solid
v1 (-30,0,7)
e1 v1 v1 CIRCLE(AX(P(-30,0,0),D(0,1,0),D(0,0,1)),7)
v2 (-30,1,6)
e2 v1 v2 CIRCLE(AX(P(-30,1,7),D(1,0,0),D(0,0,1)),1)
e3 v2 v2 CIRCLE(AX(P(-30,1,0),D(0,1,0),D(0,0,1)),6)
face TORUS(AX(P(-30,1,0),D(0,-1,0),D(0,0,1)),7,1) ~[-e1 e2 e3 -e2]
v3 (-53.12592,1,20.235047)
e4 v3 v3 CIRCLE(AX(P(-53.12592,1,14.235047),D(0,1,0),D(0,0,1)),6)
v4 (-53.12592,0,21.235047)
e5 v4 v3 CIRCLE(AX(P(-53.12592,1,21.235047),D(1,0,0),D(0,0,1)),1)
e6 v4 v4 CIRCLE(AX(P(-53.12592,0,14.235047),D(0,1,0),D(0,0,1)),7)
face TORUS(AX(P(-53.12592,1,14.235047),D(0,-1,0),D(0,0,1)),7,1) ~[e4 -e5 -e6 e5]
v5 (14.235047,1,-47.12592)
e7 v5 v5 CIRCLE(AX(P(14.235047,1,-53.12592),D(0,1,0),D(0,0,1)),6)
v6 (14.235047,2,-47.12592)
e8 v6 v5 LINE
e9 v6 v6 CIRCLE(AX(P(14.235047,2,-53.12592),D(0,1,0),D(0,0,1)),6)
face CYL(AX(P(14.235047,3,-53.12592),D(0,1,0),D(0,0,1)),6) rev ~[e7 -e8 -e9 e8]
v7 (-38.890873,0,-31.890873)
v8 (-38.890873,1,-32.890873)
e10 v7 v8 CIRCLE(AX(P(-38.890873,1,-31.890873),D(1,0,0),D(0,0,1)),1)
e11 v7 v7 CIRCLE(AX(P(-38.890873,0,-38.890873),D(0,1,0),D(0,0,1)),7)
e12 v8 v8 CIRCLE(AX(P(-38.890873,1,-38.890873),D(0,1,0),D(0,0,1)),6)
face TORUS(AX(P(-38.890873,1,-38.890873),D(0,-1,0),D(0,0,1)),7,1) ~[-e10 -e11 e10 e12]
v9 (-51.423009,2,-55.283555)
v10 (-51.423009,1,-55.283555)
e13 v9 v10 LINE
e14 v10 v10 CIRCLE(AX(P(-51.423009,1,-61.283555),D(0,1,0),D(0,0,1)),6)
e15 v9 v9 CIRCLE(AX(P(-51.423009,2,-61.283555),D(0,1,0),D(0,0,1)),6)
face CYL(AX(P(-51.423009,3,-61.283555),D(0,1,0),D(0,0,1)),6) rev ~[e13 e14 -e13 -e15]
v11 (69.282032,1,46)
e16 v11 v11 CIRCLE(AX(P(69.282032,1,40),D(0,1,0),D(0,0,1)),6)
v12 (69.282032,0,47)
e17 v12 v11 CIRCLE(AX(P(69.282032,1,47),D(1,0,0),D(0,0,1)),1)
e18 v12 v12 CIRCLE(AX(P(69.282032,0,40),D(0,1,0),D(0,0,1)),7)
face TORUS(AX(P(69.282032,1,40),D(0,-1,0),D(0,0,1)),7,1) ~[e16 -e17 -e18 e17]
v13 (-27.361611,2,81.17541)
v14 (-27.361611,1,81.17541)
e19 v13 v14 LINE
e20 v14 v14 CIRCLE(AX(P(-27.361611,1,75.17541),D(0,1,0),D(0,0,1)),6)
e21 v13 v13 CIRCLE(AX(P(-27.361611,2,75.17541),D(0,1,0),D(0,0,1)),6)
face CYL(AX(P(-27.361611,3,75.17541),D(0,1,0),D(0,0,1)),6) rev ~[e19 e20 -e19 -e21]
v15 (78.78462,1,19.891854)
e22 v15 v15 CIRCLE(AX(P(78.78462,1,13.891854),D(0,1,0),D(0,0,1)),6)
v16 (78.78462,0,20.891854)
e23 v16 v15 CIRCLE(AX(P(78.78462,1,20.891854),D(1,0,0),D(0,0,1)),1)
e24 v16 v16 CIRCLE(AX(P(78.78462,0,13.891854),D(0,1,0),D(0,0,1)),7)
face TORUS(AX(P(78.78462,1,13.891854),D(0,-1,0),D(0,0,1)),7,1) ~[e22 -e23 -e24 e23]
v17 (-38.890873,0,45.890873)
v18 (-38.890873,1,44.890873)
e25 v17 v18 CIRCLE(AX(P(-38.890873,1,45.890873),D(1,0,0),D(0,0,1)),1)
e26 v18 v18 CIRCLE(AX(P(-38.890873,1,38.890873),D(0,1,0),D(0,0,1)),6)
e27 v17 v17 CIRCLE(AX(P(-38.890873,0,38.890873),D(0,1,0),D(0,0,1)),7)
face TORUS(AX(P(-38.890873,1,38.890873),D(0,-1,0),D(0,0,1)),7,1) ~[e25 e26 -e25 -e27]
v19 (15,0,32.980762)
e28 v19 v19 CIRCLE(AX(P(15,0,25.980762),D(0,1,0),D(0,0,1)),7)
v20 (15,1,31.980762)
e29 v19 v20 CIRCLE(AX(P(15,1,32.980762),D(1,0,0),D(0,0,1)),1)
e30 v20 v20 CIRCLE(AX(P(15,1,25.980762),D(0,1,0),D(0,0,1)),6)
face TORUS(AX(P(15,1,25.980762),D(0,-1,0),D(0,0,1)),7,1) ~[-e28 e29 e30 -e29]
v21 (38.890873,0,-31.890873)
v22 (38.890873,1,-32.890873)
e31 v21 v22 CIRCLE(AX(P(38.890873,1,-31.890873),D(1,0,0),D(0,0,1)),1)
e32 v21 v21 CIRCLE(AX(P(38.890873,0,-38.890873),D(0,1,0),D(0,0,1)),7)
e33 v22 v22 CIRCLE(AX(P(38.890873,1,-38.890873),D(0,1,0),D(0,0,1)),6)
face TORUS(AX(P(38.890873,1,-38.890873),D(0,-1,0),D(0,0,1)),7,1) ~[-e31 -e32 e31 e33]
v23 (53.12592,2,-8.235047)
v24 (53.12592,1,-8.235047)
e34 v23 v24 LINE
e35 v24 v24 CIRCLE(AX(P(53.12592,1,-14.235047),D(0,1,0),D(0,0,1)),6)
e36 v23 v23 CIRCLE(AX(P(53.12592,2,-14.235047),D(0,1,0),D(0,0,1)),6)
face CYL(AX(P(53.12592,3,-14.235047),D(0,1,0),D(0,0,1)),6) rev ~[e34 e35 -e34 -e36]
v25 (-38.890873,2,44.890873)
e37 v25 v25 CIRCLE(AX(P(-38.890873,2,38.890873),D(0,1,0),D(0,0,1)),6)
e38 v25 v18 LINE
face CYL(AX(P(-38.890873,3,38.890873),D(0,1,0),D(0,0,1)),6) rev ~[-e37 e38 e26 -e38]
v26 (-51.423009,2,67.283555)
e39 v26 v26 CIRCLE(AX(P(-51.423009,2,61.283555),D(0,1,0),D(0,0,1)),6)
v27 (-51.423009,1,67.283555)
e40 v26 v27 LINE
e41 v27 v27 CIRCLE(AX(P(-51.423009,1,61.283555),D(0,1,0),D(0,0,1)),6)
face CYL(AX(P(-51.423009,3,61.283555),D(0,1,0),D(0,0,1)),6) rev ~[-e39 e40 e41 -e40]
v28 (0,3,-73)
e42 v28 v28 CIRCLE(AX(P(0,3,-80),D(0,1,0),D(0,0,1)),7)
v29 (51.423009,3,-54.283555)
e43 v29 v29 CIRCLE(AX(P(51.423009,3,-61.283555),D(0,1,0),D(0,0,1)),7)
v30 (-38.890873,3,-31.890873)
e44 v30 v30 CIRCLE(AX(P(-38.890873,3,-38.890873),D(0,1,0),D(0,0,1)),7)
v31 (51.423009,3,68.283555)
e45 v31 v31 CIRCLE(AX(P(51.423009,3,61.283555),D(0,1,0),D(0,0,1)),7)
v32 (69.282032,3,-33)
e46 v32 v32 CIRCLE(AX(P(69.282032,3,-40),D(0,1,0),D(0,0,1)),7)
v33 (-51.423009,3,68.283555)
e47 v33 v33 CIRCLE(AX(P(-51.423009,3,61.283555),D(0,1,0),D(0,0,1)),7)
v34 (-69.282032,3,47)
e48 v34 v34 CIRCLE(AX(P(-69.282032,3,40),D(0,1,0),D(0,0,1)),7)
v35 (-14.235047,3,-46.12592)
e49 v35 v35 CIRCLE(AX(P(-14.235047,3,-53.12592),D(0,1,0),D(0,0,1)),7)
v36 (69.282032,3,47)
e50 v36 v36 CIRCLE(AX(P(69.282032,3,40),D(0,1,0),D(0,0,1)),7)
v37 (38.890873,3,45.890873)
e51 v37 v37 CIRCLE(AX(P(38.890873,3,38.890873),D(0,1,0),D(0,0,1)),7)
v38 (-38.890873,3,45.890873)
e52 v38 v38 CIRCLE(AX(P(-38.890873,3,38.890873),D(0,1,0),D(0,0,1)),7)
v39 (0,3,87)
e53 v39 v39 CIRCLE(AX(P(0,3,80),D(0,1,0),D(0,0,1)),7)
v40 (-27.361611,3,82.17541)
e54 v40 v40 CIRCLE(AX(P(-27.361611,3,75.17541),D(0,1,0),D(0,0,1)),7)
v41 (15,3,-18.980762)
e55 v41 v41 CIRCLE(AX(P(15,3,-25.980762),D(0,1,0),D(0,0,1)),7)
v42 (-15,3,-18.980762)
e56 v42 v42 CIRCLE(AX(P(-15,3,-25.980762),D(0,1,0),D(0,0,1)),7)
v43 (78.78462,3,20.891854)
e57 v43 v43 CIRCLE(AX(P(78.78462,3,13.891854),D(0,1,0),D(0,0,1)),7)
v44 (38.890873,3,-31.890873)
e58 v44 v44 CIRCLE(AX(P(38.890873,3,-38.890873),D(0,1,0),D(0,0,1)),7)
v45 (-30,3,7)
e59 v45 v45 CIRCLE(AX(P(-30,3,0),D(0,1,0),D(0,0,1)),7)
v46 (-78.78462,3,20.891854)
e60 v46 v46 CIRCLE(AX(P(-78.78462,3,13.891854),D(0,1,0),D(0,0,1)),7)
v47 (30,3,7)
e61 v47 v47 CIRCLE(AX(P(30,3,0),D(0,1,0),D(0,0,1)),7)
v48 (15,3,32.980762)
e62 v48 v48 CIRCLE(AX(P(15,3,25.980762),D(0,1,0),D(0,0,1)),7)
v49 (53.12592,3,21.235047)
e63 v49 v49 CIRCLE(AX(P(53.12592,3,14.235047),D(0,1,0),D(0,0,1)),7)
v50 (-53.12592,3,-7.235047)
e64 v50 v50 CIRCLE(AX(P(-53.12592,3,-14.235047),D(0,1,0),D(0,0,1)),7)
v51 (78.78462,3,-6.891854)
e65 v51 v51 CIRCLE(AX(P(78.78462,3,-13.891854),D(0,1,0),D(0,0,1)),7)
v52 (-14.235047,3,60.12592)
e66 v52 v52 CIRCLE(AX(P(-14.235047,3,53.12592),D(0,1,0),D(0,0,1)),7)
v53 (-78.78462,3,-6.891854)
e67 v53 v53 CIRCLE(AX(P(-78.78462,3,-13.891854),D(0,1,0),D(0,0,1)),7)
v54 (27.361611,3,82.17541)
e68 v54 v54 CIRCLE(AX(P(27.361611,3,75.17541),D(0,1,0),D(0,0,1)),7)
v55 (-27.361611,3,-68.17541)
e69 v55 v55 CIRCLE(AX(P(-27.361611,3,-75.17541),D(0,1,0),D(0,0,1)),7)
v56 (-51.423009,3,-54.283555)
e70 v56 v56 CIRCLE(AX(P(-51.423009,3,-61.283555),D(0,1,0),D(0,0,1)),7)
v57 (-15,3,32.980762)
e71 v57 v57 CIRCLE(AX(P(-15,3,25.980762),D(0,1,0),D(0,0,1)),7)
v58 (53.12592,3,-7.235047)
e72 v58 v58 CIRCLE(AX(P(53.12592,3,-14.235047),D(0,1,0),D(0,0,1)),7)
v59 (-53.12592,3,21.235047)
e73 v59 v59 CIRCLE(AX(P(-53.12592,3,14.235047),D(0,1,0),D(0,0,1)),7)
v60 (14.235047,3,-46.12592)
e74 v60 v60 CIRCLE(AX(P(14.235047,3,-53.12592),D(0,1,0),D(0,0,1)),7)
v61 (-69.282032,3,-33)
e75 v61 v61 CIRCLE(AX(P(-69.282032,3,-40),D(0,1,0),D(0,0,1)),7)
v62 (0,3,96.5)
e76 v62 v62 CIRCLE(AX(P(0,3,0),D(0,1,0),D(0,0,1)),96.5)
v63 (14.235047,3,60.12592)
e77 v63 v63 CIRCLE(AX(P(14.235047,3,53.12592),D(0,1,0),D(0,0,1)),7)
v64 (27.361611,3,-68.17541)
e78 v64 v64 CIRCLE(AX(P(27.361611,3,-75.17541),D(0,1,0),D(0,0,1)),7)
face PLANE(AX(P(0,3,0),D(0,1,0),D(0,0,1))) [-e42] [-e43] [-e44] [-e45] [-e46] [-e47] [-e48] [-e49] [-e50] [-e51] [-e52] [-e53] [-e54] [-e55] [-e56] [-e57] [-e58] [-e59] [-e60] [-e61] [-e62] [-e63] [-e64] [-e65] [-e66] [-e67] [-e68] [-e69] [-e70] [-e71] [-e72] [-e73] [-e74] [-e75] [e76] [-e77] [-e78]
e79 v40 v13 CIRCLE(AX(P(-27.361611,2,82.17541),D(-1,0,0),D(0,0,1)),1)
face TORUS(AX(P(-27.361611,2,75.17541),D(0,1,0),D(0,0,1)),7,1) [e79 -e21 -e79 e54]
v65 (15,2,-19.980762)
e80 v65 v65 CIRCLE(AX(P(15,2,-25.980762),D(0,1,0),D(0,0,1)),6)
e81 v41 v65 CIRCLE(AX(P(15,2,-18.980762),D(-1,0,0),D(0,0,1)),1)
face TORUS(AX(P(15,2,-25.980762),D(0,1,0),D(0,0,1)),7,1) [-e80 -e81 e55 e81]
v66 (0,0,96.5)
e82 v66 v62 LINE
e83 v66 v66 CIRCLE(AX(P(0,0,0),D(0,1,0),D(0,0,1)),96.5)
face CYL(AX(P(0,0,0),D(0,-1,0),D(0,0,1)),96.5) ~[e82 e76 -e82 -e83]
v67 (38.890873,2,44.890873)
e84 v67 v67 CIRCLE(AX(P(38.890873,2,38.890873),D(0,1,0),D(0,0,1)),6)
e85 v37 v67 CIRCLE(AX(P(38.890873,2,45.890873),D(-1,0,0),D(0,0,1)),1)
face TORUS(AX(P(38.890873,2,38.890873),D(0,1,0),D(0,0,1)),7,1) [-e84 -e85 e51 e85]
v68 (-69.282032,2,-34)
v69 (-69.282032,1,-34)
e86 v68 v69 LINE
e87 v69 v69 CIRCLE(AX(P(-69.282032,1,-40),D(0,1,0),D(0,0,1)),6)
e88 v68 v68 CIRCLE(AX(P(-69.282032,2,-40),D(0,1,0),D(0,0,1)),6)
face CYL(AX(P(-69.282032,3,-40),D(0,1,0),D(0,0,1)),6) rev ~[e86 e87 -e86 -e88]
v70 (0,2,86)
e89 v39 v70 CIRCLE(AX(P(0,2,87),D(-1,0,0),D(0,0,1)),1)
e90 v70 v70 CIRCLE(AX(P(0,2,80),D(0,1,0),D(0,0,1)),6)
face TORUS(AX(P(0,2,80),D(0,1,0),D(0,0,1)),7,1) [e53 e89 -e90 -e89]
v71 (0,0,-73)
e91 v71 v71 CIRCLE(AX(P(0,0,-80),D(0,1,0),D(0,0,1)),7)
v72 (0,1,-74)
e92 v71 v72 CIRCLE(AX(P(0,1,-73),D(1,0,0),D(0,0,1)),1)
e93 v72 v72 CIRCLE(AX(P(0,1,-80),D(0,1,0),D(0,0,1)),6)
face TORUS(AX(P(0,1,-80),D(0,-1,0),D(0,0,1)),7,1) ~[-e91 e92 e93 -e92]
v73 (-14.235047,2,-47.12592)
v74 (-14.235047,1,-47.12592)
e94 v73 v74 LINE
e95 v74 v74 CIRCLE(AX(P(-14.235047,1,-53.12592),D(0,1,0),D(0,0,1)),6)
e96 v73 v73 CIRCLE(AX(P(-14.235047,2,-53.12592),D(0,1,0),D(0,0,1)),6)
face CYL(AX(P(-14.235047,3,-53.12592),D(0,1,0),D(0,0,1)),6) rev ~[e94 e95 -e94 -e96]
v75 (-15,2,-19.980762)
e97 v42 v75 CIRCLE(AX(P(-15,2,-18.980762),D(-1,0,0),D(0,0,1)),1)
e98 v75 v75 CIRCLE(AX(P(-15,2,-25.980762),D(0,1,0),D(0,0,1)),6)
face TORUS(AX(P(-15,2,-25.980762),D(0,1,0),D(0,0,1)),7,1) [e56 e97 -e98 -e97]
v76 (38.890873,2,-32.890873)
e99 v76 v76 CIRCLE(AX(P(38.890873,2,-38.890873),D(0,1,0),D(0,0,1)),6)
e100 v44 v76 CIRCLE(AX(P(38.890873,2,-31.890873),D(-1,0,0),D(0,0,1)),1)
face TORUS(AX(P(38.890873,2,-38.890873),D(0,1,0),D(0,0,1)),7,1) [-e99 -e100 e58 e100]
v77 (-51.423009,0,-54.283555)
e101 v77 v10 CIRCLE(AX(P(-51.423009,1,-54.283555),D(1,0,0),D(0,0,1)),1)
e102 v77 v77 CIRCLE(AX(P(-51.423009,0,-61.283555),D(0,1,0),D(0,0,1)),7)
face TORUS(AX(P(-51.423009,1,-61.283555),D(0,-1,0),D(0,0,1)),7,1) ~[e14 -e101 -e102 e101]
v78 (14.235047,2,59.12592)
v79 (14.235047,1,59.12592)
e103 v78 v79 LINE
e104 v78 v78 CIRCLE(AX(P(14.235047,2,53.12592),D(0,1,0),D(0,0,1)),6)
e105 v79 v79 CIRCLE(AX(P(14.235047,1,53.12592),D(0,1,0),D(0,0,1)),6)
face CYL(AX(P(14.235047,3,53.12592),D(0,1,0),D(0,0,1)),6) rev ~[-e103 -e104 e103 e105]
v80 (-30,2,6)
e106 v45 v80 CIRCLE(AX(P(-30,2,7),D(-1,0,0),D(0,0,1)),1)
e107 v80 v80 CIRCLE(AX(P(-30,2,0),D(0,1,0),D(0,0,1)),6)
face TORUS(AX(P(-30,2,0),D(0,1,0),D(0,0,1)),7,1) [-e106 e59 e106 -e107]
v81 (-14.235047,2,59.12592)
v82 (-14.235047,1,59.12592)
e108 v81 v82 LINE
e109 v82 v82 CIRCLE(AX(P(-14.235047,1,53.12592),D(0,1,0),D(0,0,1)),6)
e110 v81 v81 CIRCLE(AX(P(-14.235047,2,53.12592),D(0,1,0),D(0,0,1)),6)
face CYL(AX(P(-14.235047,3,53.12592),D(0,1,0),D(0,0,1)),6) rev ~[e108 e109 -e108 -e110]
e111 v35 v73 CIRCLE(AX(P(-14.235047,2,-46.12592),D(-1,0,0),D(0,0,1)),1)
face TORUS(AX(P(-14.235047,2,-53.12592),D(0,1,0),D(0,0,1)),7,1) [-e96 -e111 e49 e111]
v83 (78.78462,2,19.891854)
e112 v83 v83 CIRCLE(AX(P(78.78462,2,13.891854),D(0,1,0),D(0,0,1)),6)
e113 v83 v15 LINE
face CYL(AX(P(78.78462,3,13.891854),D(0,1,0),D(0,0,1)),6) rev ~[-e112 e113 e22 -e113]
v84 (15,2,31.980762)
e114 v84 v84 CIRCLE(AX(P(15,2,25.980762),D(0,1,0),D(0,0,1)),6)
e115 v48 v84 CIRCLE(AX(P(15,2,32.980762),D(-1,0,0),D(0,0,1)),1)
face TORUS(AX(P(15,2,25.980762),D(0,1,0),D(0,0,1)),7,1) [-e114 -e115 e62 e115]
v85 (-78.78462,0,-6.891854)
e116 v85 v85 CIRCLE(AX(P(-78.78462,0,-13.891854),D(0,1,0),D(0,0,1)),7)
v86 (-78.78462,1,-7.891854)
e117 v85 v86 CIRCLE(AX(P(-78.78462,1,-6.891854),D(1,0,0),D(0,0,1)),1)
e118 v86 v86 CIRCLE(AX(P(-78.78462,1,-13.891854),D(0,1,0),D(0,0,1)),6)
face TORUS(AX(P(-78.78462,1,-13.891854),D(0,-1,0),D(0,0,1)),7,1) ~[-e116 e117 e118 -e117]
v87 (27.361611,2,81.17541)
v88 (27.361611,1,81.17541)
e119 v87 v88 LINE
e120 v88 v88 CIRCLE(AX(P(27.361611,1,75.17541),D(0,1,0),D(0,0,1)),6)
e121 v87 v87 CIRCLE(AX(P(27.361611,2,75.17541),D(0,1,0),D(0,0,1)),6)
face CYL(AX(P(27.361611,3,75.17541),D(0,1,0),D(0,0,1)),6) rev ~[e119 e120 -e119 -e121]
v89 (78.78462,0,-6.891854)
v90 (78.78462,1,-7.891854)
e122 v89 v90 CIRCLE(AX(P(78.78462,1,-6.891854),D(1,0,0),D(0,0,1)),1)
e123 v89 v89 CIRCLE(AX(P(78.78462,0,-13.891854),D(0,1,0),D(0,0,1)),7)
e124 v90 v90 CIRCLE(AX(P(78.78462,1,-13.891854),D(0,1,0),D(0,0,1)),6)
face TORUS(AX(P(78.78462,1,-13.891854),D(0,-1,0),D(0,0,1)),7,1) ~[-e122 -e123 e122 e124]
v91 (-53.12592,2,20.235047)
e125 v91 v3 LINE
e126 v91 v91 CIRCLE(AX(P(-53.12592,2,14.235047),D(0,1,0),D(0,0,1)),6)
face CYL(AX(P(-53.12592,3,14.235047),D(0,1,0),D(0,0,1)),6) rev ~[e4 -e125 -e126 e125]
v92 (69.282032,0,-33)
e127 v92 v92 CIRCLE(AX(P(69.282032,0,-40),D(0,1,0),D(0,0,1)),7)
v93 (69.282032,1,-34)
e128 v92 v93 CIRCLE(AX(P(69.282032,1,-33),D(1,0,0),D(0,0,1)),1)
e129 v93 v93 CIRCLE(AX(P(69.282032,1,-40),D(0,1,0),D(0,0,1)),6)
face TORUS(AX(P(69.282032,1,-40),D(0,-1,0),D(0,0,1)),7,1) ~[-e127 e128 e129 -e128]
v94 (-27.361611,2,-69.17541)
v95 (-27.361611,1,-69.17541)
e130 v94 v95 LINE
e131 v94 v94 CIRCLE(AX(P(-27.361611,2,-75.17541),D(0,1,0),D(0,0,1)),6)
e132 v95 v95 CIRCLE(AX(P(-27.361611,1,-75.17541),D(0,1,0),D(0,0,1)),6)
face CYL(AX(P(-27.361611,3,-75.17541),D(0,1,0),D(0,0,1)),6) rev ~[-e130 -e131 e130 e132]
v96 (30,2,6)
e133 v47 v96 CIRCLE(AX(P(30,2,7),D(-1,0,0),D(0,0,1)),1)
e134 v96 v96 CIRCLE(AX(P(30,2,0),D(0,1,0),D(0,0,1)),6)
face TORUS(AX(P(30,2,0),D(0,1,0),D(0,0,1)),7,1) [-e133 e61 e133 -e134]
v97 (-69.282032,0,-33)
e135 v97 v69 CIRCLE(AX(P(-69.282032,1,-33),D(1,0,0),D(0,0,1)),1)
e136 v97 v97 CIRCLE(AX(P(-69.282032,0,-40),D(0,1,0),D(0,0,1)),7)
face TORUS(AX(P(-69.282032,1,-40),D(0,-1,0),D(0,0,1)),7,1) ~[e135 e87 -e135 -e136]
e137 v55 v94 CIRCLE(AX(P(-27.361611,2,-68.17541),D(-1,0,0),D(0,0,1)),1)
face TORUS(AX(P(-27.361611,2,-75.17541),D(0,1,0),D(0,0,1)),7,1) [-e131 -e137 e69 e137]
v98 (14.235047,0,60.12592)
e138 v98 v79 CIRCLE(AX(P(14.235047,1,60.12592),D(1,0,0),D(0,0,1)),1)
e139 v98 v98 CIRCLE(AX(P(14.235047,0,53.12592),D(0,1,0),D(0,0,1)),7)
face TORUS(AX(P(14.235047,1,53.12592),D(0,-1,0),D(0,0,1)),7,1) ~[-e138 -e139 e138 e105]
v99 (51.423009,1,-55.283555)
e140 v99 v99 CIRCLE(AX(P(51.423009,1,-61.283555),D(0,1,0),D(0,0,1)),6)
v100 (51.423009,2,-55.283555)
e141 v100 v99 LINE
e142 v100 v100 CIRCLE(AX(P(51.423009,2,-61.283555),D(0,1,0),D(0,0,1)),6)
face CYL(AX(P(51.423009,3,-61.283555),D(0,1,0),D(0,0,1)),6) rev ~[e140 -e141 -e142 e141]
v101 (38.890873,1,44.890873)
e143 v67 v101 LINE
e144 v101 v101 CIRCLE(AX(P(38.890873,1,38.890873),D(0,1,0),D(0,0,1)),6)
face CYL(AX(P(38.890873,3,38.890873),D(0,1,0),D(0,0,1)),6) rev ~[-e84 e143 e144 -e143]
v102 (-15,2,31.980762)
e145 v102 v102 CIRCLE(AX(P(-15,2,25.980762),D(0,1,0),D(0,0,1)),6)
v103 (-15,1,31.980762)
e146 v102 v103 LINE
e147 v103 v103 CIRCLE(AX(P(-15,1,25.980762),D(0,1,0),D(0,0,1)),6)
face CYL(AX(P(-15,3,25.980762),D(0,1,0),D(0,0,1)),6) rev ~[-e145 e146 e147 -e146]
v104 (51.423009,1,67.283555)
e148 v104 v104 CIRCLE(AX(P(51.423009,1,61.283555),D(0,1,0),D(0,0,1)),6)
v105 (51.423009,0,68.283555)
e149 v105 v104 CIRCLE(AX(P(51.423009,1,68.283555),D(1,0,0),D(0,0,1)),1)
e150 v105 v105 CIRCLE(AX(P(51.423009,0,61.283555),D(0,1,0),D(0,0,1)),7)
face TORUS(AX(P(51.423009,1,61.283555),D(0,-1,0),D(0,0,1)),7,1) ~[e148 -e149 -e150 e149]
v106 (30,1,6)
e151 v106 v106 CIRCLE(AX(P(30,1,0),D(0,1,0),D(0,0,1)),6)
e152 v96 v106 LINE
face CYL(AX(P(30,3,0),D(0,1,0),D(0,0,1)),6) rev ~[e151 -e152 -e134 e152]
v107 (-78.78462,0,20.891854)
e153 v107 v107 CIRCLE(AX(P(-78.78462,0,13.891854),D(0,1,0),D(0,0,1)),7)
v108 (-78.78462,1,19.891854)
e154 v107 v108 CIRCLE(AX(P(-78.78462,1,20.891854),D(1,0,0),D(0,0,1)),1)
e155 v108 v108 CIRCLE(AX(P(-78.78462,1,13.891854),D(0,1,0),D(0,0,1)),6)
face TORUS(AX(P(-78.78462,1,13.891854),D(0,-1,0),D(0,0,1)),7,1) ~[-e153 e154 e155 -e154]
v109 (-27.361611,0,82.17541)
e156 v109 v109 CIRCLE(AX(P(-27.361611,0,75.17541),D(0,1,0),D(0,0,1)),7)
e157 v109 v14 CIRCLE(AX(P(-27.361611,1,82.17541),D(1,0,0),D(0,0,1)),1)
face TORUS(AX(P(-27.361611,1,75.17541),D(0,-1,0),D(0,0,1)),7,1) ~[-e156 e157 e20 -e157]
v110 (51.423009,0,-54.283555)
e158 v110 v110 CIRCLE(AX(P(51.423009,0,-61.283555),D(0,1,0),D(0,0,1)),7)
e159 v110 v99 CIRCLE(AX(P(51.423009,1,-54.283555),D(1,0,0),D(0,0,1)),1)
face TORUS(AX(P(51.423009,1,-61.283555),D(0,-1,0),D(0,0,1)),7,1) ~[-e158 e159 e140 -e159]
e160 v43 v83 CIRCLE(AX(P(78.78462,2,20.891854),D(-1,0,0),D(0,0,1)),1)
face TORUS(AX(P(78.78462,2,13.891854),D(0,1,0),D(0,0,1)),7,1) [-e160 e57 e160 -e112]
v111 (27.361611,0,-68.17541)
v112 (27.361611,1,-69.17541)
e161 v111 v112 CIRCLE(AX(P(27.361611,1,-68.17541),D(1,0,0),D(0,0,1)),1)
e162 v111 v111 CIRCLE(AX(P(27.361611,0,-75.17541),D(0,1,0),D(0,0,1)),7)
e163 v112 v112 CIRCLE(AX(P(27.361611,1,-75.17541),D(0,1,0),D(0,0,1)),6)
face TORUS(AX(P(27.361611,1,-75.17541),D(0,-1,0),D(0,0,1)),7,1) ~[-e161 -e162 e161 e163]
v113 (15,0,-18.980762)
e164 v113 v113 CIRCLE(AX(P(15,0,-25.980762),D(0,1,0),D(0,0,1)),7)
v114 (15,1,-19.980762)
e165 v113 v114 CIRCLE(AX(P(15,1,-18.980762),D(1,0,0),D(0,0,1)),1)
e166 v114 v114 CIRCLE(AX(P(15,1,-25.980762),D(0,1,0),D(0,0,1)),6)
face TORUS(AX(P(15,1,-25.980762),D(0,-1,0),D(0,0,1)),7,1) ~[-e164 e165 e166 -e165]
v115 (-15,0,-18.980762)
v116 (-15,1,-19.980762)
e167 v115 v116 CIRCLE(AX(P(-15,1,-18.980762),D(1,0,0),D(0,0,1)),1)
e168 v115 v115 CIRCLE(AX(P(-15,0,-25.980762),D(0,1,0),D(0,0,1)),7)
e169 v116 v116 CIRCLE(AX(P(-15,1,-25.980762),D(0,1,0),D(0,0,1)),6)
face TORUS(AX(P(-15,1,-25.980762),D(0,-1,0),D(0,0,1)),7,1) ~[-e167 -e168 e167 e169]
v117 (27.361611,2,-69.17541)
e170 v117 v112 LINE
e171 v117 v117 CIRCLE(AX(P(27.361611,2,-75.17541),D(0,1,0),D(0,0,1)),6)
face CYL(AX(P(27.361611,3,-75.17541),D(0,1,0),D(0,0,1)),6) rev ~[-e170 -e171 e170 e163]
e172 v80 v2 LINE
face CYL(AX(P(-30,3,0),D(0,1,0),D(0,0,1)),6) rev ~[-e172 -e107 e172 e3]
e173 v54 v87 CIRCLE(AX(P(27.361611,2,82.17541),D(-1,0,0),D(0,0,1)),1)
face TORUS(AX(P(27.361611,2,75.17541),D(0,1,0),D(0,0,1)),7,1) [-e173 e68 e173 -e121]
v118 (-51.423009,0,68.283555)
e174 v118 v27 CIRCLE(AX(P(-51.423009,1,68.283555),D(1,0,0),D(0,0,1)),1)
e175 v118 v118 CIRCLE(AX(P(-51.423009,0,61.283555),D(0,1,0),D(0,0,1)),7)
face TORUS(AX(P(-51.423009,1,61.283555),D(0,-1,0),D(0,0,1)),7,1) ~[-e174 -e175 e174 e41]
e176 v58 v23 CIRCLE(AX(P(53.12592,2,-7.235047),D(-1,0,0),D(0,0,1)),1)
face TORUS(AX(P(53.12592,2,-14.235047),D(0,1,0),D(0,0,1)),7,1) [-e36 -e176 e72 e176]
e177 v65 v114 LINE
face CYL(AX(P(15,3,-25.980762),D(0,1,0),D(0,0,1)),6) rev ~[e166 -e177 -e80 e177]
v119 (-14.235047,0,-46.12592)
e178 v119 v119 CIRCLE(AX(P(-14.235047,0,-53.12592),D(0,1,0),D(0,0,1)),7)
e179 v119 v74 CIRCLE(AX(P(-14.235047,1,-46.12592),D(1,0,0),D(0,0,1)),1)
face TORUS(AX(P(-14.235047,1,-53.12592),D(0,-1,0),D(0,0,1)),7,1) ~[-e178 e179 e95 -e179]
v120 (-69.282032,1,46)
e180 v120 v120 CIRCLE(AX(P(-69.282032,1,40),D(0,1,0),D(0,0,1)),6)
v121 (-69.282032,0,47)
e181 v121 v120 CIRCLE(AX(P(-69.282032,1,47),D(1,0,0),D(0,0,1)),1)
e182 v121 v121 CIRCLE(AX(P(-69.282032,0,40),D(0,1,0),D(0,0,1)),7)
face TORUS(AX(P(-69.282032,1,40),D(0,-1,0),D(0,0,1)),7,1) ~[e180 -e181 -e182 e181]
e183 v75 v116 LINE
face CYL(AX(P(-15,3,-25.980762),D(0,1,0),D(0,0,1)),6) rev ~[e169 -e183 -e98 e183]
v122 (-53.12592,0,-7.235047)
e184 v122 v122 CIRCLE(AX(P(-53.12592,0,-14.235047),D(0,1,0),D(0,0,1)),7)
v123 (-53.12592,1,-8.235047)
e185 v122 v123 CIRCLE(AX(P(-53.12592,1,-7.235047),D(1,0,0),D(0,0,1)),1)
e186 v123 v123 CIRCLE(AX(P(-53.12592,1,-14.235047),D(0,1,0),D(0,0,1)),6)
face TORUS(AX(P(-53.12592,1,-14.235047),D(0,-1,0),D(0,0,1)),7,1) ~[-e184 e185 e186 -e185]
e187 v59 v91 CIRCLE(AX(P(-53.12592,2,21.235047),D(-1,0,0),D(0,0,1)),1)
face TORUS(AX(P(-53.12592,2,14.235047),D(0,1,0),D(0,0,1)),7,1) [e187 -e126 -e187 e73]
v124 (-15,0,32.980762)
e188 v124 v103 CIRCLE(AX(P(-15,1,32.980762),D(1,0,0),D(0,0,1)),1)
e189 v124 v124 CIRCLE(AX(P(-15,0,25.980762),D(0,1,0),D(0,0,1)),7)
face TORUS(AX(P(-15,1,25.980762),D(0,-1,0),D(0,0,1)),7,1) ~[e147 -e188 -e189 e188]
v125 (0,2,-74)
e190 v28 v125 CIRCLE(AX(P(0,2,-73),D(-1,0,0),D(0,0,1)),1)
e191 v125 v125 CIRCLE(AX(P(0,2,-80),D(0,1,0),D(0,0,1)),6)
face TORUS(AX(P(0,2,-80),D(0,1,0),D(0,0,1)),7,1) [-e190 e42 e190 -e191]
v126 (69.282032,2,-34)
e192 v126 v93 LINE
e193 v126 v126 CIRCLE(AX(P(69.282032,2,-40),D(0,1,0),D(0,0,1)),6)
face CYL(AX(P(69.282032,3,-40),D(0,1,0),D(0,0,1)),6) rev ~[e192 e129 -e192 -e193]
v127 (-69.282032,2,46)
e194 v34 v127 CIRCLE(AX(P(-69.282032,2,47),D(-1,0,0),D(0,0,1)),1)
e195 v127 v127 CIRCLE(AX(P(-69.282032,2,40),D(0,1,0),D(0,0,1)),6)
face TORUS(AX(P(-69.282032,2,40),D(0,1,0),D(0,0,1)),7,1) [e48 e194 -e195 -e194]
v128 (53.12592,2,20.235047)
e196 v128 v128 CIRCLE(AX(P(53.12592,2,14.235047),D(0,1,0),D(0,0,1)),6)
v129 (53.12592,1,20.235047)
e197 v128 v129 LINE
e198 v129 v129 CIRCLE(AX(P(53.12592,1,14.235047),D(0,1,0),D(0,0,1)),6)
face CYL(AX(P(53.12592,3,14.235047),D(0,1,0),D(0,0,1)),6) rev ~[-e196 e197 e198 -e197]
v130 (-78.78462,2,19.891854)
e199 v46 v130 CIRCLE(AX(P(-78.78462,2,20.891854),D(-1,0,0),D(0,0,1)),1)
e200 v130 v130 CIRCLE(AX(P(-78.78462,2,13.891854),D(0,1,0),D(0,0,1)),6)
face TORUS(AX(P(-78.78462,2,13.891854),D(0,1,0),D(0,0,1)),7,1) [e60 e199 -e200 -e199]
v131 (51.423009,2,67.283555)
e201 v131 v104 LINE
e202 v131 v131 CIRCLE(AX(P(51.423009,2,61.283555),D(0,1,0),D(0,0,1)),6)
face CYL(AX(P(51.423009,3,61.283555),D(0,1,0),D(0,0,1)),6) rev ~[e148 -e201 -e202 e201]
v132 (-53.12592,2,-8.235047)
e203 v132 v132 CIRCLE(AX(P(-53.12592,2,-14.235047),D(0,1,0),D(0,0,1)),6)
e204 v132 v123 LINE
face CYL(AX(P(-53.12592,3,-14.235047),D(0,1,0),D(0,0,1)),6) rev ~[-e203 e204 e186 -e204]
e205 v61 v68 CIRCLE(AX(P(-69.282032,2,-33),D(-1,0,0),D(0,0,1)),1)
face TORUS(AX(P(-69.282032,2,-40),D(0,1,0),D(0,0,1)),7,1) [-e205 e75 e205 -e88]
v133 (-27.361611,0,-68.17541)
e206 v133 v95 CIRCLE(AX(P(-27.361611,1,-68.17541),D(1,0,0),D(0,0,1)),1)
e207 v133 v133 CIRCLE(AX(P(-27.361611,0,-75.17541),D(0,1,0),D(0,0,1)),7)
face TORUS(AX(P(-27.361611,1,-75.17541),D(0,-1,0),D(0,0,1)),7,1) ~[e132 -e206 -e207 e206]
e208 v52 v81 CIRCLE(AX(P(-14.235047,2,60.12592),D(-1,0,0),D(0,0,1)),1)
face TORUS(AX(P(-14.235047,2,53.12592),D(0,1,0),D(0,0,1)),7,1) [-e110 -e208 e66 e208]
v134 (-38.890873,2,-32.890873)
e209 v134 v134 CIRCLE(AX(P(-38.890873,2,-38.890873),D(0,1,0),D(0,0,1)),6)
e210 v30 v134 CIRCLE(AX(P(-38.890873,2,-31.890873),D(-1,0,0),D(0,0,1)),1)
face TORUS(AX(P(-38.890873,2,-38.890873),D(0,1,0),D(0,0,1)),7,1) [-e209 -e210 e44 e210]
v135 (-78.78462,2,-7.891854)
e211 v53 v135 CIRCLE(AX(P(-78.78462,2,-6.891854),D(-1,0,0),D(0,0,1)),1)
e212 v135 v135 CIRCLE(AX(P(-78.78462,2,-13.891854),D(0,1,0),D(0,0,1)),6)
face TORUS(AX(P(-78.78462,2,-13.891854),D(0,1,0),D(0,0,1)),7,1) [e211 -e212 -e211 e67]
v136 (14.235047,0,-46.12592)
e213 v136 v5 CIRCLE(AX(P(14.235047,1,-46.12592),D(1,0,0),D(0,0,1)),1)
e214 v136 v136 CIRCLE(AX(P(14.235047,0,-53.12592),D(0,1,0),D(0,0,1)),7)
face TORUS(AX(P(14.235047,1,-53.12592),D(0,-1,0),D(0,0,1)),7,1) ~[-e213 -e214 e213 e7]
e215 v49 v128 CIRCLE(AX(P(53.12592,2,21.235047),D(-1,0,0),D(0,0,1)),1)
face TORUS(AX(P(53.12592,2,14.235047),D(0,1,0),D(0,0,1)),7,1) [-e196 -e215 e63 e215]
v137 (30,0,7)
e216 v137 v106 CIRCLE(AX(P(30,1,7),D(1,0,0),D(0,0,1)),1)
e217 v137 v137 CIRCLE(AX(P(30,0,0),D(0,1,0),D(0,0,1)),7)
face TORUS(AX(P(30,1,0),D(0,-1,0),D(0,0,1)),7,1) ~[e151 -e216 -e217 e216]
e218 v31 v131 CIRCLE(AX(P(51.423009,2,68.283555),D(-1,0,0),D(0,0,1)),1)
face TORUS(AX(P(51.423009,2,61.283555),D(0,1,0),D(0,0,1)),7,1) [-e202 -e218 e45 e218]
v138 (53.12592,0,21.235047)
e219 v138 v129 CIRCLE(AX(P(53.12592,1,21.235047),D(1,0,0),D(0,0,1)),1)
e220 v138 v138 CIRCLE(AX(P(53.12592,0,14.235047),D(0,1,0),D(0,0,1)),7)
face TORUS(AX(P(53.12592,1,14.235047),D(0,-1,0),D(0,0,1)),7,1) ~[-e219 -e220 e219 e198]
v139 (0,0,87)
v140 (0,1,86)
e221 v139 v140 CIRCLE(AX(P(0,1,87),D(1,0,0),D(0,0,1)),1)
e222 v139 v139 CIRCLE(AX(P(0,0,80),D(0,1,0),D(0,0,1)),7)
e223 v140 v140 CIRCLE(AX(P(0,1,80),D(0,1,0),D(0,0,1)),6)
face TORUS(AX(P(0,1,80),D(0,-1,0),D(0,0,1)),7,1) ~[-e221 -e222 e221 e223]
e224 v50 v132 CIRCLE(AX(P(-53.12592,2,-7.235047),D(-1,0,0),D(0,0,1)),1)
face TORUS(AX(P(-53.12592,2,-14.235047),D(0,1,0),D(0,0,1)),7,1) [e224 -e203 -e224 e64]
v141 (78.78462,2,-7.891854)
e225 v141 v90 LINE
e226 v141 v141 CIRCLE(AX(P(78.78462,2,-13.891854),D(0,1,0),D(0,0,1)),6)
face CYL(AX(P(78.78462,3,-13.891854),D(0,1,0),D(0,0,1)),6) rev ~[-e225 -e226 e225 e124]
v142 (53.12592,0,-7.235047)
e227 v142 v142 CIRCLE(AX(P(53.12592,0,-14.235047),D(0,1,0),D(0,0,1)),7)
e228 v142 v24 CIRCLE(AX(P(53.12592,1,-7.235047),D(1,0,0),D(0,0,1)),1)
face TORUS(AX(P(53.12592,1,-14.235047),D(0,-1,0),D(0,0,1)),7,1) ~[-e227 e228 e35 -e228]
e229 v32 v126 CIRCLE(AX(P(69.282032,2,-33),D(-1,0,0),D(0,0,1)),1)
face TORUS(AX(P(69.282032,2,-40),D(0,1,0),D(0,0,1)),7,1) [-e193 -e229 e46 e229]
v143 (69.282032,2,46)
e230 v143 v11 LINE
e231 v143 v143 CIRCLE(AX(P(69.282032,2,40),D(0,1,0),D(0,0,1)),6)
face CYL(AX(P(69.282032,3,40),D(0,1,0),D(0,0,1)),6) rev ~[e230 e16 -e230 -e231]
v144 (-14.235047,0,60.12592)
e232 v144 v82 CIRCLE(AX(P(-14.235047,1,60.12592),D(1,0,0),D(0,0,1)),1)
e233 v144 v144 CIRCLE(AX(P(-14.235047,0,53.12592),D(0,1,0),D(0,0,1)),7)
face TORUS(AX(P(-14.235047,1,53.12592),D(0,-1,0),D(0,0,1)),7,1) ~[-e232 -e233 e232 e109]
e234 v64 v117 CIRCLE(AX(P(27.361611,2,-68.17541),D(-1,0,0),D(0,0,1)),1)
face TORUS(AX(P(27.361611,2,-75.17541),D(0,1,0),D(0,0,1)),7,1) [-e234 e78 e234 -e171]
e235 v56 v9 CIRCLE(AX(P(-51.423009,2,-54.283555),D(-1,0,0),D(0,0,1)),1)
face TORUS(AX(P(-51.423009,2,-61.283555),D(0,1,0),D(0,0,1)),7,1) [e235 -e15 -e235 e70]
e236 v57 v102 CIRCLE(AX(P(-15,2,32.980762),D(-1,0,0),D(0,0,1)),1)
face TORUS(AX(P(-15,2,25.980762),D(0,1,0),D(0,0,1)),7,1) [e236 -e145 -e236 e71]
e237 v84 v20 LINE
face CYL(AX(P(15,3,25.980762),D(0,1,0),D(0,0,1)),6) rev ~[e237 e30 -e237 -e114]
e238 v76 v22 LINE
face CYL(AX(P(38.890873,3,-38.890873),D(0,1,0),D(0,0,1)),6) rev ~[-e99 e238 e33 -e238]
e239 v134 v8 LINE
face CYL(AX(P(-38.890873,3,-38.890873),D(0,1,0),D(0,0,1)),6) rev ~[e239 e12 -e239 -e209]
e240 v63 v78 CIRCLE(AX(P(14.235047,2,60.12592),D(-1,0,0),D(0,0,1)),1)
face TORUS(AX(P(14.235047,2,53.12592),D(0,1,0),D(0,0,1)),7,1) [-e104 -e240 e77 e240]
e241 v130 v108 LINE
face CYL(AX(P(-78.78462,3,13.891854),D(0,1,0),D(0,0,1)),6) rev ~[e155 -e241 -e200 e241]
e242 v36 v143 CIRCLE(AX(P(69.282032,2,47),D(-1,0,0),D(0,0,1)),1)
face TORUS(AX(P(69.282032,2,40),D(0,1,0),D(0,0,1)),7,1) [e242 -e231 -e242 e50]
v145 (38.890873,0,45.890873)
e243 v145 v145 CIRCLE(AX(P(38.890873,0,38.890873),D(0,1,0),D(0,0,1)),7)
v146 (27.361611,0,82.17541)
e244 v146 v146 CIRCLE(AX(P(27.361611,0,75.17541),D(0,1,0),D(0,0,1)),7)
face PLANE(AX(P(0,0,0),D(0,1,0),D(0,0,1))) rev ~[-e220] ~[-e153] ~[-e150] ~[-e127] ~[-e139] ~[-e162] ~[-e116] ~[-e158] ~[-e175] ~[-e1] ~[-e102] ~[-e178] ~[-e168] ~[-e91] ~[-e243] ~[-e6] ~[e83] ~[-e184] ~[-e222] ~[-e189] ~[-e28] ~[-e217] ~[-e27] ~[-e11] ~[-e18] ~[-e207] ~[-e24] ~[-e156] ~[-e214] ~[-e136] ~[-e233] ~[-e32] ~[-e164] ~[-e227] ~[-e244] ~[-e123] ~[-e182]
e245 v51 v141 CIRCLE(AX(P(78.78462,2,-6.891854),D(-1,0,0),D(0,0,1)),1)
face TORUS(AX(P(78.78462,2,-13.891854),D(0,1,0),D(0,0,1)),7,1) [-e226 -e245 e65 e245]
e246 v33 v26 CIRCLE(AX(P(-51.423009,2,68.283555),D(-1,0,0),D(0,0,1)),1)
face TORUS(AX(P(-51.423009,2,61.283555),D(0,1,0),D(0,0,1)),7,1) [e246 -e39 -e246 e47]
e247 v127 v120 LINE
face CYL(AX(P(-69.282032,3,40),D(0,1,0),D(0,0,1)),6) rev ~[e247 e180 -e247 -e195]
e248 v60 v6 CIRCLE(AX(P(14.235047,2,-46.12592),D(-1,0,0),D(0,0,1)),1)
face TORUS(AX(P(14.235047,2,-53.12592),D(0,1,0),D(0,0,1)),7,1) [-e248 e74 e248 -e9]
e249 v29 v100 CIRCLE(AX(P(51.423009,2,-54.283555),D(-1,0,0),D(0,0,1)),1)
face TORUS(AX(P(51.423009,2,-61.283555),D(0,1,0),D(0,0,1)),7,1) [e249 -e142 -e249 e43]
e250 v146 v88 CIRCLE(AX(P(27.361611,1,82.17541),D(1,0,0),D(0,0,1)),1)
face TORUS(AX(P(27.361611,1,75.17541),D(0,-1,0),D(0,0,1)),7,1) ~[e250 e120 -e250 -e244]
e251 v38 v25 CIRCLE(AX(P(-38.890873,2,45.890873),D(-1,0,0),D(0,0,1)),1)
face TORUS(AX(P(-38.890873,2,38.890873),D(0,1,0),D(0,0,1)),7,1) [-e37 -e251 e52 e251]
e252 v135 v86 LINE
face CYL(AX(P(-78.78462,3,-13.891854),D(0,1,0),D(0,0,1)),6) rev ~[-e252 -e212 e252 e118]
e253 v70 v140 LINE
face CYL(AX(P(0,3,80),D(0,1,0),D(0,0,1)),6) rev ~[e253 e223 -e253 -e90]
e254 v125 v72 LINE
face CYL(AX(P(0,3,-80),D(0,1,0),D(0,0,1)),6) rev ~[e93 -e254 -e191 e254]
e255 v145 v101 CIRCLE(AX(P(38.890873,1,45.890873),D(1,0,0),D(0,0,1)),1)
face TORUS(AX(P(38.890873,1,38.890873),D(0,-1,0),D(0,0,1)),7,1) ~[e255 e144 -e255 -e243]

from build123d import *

# Parameters (mm, degrees)
SKETCH1_R           = 96.5
BOSS_EXTRUDE1_DEPTH = 3
SKETCH2_R           = 6
CUT_EXTRUDE3_DEPTH  = 10
FILLET1_R           = 1


with BuildPart() as part:
    # Sketch1 → Boss-Extrude1 (new body)
    with BuildSketch(Plane(origin=(0, 0, 0), x_dir=(1, 0, 0), z_dir=(0, 1, 0))):
        with Locations(Location((0, 0, 0), (0, 0, 270))):
            Circle(SKETCH1_R)
    extrude(amount=BOSS_EXTRUDE1_DEPTH)

    # Sketch2 → Cut-Extrude3 (cut)
    with BuildSketch(Plane(origin=(0, 3, 0), x_dir=(1, 0, 0), z_dir=(0, 1, 0))):
        with Locations(Location((30, 0, 0), (0, 0, 270))):
            Circle(SKETCH2_R)
        with Locations(Location((53.125920446, 14.235047481, 0), (0, 0, 270))):
            Circle(SKETCH2_R)
        with Locations(Location((78.784620241, 13.891854213, 0), (0, 0, 270))):
            Circle(SKETCH2_R)
        with Locations(Location((15, -25.980762114, 0), (0, 0, 270))):
            Circle(SKETCH2_R)
        with Locations(Location((-15, -25.980762114, 0), (0, 0, 270))):
            Circle(SKETCH2_R)
        with Locations(Location((-30, 0, 0), (0, 0, 270))):
            Circle(SKETCH2_R)
        with Locations(Location((-15, 25.980762114, 0), (0, 0, 270))):
            Circle(SKETCH2_R)
        with Locations(Location((15, 25.980762114, 0), (0, 0, 270))):
            Circle(SKETCH2_R)
        with Locations(Location((53.125920446, -14.235047481, 0), (0, 0, 270))):
            Circle(SKETCH2_R)
        with Locations(Location((38.890872965, -38.890872965, 0), (0, 0, 270))):
            Circle(SKETCH2_R)
        with Locations(Location((14.235047481, -53.125920446, 0), (0, 0, 270))):
            Circle(SKETCH2_R)
        with Locations(Location((-14.235047481, -53.125920446, 0), (0, 0, 270))):
            Circle(SKETCH2_R)
        with Locations(Location((-38.890872965, -38.890872965, 0), (0, 0, 270))):
            Circle(SKETCH2_R)
        with Locations(Location((-53.125920446, -14.235047481, 0), (0, 0, 270))):
            Circle(SKETCH2_R)
        with Locations(Location((-53.125920446, 14.235047481, 0), (0, 0, 270))):
            Circle(SKETCH2_R)
        with Locations(Location((-38.890872965, 38.890872965, 0), (0, 0, 270))):
            Circle(SKETCH2_R)
        with Locations(Location((-14.235047481, 53.125920446, 0), (0, 0, 270))):
            Circle(SKETCH2_R)
        with Locations(Location((14.235047481, 53.125920446, 0), (0, 0, 270))):
            Circle(SKETCH2_R)
        with Locations(Location((38.890872965, 38.890872965, 0), (0, 0, 270))):
            Circle(SKETCH2_R)
        with Locations(Location((78.784620241, -13.891854213, 0), (0, 0, 270))):
            Circle(SKETCH2_R)
        with Locations(Location((69.282032303, -40, 0), (0, 0, 270))):
            Circle(SKETCH2_R)
        with Locations(Location((51.423008775, -61.28355545, 0), (0, 0, 270))):
            Circle(SKETCH2_R)
        with Locations(Location((27.361611466, -75.175409663, 0), (0, 0, 270))):
            Circle(SKETCH2_R)
        with Locations(Location((0, -80, 0), (0, 0, 270))):
            Circle(SKETCH2_R)
        with Locations(Location((-27.361611466, -75.175409663, 0), (0, 0, 270))):
            Circle(SKETCH2_R)
        with Locations(Location((-51.423008775, -61.28355545, 0), (0, 0, 270))):
            Circle(SKETCH2_R)
        with Locations(Location((-69.282032303, -40, 0), (0, 0, 270))):
            Circle(SKETCH2_R)
        with Locations(Location((-78.784620241, -13.891854213, 0), (0, 0, 270))):
            Circle(SKETCH2_R)
        with Locations(Location((-78.784620241, 13.891854213, 0), (0, 0, 270))):
            Circle(SKETCH2_R)
        with Locations(Location((-69.282032303, 40, 0), (0, 0, 270))):
            Circle(SKETCH2_R)
        with Locations(Location((-51.423008775, 61.28355545, 0), (0, 0, 270))):
            Circle(SKETCH2_R)
        with Locations(Location((-27.361611466, 75.175409663, 0), (0, 0, 270))):
            Circle(SKETCH2_R)
        with Locations(Location((0, 80, 0), (0, 0, 270))):
            Circle(SKETCH2_R)
        with Locations(Location((27.361611466, 75.175409663, 0), (0, 0, 270))):
            Circle(SKETCH2_R)
        with Locations(Location((51.423008775, 61.28355545, 0), (0, 0, 270))):
            Circle(SKETCH2_R)
        with Locations(Location((69.282032303, 40, 0), (0, 0, 270))):
            Circle(SKETCH2_R)
    extrude(amount=-CUT_EXTRUDE3_DEPTH, mode=Mode.SUBTRACT)

    # Fillet1
    fillet1_edges = [part.edges().sort_by_distance(p)[0] for p in [
        (-30, 0, -6),
        (-30, 3, -6),
        (-15, 0, 19.980762114),
        (-15, 3, 19.980762114),
        (15, 0, 19.980762114),
        (15, 3, 19.980762114),
        (78.784620241, 0, -19.891854213),
        (78.784620241, 3, -19.891854213),
        (53.125920446, 0, -20.235047481),
        (53.125920446, 3, -20.235047481),
        (38.890872965, 0, 32.890872965),
        (38.890872965, 3, 32.890872965),
        (14.235047481, 0, 47.125920446),
        (14.235047481, 3, 47.125920446),
        (-14.235047481, 0, 47.125920446),
        (-14.235047481, 3, 47.125920446),
        (-38.890872965, 0, 32.890872965),
        (-38.890872965, 3, 32.890872965),
        (-53.125920446, 0, 8.235047481),
        (-53.125920446, 3, 8.235047481),
        (-53.125920446, 0, -20.235047481),
        (-53.125920446, 3, -20.235047481),
        (-38.890872965, 0, -44.890872965),
        (-38.890872965, 3, -44.890872965),
        (-14.235047481, 0, -59.125920446),
        (-14.235047481, 3, -59.125920446),
        (27.361611466, 0, -81.175409663),
        (27.361611466, 3, -81.175409663),
        (51.423008775, 0, -67.28355545),
        (51.423008775, 3, -67.28355545),
        (69.282032303, 0, -46),
        (69.282032303, 3, -46),
        (30, 0, -6),
        (30, 3, -6),
        (14.235047481, 0, -59.125920446),
        (14.235047481, 3, -59.125920446),
        (38.890872965, 0, -44.890872965),
        (38.890872965, 3, -44.890872965),
        (78.784620241, 0, 7.891854213),
        (78.784620241, 3, 7.891854213),
        (69.282032303, 0, 34),
        (69.282032303, 3, 34),
        (51.423008775, 0, 55.28355545),
        (51.423008775, 3, 55.28355545),
        (27.361611466, 0, 69.175409663),
        (27.361611466, 3, 69.175409663),
        (0, 0, 74),
        (0, 3, 74),
        (-27.361611466, 0, 69.175409663),
        (-27.361611466, 3, 69.175409663),
        (-51.423008775, 0, 55.28355545),
        (-51.423008775, 3, 55.28355545),
        (-69.282032303, 0, 34),
        (-69.282032303, 3, 34),
        (-78.784620241, 0, 7.891854213),
        (-78.784620241, 3, 7.891854213),
        (-78.784620241, 0, -19.891854213),
        (-78.784620241, 3, -19.891854213),
        (-69.282032303, 0, -46),
        (-69.282032303, 3, -46),
        (-51.423008775, 0, -67.28355545),
        (-51.423008775, 3, -67.28355545),
        (-27.361611466, 0, -81.175409663),
        (-27.361611466, 3, -81.175409663),
        (0, 0, -86),
        (0, 3, -86),
        (53.125920446, 0, 8.235047481),
        (53.125920446, 3, 8.235047481),
        (15, 0, -31.980762114),
        (15, 3, -31.980762114),
        (-15, 0, -31.980762114),
        (-15, 3, -31.980762114),
    ]]
    fillet(fillet1_edges, radius=FILLET1_R)


solid = part.part
